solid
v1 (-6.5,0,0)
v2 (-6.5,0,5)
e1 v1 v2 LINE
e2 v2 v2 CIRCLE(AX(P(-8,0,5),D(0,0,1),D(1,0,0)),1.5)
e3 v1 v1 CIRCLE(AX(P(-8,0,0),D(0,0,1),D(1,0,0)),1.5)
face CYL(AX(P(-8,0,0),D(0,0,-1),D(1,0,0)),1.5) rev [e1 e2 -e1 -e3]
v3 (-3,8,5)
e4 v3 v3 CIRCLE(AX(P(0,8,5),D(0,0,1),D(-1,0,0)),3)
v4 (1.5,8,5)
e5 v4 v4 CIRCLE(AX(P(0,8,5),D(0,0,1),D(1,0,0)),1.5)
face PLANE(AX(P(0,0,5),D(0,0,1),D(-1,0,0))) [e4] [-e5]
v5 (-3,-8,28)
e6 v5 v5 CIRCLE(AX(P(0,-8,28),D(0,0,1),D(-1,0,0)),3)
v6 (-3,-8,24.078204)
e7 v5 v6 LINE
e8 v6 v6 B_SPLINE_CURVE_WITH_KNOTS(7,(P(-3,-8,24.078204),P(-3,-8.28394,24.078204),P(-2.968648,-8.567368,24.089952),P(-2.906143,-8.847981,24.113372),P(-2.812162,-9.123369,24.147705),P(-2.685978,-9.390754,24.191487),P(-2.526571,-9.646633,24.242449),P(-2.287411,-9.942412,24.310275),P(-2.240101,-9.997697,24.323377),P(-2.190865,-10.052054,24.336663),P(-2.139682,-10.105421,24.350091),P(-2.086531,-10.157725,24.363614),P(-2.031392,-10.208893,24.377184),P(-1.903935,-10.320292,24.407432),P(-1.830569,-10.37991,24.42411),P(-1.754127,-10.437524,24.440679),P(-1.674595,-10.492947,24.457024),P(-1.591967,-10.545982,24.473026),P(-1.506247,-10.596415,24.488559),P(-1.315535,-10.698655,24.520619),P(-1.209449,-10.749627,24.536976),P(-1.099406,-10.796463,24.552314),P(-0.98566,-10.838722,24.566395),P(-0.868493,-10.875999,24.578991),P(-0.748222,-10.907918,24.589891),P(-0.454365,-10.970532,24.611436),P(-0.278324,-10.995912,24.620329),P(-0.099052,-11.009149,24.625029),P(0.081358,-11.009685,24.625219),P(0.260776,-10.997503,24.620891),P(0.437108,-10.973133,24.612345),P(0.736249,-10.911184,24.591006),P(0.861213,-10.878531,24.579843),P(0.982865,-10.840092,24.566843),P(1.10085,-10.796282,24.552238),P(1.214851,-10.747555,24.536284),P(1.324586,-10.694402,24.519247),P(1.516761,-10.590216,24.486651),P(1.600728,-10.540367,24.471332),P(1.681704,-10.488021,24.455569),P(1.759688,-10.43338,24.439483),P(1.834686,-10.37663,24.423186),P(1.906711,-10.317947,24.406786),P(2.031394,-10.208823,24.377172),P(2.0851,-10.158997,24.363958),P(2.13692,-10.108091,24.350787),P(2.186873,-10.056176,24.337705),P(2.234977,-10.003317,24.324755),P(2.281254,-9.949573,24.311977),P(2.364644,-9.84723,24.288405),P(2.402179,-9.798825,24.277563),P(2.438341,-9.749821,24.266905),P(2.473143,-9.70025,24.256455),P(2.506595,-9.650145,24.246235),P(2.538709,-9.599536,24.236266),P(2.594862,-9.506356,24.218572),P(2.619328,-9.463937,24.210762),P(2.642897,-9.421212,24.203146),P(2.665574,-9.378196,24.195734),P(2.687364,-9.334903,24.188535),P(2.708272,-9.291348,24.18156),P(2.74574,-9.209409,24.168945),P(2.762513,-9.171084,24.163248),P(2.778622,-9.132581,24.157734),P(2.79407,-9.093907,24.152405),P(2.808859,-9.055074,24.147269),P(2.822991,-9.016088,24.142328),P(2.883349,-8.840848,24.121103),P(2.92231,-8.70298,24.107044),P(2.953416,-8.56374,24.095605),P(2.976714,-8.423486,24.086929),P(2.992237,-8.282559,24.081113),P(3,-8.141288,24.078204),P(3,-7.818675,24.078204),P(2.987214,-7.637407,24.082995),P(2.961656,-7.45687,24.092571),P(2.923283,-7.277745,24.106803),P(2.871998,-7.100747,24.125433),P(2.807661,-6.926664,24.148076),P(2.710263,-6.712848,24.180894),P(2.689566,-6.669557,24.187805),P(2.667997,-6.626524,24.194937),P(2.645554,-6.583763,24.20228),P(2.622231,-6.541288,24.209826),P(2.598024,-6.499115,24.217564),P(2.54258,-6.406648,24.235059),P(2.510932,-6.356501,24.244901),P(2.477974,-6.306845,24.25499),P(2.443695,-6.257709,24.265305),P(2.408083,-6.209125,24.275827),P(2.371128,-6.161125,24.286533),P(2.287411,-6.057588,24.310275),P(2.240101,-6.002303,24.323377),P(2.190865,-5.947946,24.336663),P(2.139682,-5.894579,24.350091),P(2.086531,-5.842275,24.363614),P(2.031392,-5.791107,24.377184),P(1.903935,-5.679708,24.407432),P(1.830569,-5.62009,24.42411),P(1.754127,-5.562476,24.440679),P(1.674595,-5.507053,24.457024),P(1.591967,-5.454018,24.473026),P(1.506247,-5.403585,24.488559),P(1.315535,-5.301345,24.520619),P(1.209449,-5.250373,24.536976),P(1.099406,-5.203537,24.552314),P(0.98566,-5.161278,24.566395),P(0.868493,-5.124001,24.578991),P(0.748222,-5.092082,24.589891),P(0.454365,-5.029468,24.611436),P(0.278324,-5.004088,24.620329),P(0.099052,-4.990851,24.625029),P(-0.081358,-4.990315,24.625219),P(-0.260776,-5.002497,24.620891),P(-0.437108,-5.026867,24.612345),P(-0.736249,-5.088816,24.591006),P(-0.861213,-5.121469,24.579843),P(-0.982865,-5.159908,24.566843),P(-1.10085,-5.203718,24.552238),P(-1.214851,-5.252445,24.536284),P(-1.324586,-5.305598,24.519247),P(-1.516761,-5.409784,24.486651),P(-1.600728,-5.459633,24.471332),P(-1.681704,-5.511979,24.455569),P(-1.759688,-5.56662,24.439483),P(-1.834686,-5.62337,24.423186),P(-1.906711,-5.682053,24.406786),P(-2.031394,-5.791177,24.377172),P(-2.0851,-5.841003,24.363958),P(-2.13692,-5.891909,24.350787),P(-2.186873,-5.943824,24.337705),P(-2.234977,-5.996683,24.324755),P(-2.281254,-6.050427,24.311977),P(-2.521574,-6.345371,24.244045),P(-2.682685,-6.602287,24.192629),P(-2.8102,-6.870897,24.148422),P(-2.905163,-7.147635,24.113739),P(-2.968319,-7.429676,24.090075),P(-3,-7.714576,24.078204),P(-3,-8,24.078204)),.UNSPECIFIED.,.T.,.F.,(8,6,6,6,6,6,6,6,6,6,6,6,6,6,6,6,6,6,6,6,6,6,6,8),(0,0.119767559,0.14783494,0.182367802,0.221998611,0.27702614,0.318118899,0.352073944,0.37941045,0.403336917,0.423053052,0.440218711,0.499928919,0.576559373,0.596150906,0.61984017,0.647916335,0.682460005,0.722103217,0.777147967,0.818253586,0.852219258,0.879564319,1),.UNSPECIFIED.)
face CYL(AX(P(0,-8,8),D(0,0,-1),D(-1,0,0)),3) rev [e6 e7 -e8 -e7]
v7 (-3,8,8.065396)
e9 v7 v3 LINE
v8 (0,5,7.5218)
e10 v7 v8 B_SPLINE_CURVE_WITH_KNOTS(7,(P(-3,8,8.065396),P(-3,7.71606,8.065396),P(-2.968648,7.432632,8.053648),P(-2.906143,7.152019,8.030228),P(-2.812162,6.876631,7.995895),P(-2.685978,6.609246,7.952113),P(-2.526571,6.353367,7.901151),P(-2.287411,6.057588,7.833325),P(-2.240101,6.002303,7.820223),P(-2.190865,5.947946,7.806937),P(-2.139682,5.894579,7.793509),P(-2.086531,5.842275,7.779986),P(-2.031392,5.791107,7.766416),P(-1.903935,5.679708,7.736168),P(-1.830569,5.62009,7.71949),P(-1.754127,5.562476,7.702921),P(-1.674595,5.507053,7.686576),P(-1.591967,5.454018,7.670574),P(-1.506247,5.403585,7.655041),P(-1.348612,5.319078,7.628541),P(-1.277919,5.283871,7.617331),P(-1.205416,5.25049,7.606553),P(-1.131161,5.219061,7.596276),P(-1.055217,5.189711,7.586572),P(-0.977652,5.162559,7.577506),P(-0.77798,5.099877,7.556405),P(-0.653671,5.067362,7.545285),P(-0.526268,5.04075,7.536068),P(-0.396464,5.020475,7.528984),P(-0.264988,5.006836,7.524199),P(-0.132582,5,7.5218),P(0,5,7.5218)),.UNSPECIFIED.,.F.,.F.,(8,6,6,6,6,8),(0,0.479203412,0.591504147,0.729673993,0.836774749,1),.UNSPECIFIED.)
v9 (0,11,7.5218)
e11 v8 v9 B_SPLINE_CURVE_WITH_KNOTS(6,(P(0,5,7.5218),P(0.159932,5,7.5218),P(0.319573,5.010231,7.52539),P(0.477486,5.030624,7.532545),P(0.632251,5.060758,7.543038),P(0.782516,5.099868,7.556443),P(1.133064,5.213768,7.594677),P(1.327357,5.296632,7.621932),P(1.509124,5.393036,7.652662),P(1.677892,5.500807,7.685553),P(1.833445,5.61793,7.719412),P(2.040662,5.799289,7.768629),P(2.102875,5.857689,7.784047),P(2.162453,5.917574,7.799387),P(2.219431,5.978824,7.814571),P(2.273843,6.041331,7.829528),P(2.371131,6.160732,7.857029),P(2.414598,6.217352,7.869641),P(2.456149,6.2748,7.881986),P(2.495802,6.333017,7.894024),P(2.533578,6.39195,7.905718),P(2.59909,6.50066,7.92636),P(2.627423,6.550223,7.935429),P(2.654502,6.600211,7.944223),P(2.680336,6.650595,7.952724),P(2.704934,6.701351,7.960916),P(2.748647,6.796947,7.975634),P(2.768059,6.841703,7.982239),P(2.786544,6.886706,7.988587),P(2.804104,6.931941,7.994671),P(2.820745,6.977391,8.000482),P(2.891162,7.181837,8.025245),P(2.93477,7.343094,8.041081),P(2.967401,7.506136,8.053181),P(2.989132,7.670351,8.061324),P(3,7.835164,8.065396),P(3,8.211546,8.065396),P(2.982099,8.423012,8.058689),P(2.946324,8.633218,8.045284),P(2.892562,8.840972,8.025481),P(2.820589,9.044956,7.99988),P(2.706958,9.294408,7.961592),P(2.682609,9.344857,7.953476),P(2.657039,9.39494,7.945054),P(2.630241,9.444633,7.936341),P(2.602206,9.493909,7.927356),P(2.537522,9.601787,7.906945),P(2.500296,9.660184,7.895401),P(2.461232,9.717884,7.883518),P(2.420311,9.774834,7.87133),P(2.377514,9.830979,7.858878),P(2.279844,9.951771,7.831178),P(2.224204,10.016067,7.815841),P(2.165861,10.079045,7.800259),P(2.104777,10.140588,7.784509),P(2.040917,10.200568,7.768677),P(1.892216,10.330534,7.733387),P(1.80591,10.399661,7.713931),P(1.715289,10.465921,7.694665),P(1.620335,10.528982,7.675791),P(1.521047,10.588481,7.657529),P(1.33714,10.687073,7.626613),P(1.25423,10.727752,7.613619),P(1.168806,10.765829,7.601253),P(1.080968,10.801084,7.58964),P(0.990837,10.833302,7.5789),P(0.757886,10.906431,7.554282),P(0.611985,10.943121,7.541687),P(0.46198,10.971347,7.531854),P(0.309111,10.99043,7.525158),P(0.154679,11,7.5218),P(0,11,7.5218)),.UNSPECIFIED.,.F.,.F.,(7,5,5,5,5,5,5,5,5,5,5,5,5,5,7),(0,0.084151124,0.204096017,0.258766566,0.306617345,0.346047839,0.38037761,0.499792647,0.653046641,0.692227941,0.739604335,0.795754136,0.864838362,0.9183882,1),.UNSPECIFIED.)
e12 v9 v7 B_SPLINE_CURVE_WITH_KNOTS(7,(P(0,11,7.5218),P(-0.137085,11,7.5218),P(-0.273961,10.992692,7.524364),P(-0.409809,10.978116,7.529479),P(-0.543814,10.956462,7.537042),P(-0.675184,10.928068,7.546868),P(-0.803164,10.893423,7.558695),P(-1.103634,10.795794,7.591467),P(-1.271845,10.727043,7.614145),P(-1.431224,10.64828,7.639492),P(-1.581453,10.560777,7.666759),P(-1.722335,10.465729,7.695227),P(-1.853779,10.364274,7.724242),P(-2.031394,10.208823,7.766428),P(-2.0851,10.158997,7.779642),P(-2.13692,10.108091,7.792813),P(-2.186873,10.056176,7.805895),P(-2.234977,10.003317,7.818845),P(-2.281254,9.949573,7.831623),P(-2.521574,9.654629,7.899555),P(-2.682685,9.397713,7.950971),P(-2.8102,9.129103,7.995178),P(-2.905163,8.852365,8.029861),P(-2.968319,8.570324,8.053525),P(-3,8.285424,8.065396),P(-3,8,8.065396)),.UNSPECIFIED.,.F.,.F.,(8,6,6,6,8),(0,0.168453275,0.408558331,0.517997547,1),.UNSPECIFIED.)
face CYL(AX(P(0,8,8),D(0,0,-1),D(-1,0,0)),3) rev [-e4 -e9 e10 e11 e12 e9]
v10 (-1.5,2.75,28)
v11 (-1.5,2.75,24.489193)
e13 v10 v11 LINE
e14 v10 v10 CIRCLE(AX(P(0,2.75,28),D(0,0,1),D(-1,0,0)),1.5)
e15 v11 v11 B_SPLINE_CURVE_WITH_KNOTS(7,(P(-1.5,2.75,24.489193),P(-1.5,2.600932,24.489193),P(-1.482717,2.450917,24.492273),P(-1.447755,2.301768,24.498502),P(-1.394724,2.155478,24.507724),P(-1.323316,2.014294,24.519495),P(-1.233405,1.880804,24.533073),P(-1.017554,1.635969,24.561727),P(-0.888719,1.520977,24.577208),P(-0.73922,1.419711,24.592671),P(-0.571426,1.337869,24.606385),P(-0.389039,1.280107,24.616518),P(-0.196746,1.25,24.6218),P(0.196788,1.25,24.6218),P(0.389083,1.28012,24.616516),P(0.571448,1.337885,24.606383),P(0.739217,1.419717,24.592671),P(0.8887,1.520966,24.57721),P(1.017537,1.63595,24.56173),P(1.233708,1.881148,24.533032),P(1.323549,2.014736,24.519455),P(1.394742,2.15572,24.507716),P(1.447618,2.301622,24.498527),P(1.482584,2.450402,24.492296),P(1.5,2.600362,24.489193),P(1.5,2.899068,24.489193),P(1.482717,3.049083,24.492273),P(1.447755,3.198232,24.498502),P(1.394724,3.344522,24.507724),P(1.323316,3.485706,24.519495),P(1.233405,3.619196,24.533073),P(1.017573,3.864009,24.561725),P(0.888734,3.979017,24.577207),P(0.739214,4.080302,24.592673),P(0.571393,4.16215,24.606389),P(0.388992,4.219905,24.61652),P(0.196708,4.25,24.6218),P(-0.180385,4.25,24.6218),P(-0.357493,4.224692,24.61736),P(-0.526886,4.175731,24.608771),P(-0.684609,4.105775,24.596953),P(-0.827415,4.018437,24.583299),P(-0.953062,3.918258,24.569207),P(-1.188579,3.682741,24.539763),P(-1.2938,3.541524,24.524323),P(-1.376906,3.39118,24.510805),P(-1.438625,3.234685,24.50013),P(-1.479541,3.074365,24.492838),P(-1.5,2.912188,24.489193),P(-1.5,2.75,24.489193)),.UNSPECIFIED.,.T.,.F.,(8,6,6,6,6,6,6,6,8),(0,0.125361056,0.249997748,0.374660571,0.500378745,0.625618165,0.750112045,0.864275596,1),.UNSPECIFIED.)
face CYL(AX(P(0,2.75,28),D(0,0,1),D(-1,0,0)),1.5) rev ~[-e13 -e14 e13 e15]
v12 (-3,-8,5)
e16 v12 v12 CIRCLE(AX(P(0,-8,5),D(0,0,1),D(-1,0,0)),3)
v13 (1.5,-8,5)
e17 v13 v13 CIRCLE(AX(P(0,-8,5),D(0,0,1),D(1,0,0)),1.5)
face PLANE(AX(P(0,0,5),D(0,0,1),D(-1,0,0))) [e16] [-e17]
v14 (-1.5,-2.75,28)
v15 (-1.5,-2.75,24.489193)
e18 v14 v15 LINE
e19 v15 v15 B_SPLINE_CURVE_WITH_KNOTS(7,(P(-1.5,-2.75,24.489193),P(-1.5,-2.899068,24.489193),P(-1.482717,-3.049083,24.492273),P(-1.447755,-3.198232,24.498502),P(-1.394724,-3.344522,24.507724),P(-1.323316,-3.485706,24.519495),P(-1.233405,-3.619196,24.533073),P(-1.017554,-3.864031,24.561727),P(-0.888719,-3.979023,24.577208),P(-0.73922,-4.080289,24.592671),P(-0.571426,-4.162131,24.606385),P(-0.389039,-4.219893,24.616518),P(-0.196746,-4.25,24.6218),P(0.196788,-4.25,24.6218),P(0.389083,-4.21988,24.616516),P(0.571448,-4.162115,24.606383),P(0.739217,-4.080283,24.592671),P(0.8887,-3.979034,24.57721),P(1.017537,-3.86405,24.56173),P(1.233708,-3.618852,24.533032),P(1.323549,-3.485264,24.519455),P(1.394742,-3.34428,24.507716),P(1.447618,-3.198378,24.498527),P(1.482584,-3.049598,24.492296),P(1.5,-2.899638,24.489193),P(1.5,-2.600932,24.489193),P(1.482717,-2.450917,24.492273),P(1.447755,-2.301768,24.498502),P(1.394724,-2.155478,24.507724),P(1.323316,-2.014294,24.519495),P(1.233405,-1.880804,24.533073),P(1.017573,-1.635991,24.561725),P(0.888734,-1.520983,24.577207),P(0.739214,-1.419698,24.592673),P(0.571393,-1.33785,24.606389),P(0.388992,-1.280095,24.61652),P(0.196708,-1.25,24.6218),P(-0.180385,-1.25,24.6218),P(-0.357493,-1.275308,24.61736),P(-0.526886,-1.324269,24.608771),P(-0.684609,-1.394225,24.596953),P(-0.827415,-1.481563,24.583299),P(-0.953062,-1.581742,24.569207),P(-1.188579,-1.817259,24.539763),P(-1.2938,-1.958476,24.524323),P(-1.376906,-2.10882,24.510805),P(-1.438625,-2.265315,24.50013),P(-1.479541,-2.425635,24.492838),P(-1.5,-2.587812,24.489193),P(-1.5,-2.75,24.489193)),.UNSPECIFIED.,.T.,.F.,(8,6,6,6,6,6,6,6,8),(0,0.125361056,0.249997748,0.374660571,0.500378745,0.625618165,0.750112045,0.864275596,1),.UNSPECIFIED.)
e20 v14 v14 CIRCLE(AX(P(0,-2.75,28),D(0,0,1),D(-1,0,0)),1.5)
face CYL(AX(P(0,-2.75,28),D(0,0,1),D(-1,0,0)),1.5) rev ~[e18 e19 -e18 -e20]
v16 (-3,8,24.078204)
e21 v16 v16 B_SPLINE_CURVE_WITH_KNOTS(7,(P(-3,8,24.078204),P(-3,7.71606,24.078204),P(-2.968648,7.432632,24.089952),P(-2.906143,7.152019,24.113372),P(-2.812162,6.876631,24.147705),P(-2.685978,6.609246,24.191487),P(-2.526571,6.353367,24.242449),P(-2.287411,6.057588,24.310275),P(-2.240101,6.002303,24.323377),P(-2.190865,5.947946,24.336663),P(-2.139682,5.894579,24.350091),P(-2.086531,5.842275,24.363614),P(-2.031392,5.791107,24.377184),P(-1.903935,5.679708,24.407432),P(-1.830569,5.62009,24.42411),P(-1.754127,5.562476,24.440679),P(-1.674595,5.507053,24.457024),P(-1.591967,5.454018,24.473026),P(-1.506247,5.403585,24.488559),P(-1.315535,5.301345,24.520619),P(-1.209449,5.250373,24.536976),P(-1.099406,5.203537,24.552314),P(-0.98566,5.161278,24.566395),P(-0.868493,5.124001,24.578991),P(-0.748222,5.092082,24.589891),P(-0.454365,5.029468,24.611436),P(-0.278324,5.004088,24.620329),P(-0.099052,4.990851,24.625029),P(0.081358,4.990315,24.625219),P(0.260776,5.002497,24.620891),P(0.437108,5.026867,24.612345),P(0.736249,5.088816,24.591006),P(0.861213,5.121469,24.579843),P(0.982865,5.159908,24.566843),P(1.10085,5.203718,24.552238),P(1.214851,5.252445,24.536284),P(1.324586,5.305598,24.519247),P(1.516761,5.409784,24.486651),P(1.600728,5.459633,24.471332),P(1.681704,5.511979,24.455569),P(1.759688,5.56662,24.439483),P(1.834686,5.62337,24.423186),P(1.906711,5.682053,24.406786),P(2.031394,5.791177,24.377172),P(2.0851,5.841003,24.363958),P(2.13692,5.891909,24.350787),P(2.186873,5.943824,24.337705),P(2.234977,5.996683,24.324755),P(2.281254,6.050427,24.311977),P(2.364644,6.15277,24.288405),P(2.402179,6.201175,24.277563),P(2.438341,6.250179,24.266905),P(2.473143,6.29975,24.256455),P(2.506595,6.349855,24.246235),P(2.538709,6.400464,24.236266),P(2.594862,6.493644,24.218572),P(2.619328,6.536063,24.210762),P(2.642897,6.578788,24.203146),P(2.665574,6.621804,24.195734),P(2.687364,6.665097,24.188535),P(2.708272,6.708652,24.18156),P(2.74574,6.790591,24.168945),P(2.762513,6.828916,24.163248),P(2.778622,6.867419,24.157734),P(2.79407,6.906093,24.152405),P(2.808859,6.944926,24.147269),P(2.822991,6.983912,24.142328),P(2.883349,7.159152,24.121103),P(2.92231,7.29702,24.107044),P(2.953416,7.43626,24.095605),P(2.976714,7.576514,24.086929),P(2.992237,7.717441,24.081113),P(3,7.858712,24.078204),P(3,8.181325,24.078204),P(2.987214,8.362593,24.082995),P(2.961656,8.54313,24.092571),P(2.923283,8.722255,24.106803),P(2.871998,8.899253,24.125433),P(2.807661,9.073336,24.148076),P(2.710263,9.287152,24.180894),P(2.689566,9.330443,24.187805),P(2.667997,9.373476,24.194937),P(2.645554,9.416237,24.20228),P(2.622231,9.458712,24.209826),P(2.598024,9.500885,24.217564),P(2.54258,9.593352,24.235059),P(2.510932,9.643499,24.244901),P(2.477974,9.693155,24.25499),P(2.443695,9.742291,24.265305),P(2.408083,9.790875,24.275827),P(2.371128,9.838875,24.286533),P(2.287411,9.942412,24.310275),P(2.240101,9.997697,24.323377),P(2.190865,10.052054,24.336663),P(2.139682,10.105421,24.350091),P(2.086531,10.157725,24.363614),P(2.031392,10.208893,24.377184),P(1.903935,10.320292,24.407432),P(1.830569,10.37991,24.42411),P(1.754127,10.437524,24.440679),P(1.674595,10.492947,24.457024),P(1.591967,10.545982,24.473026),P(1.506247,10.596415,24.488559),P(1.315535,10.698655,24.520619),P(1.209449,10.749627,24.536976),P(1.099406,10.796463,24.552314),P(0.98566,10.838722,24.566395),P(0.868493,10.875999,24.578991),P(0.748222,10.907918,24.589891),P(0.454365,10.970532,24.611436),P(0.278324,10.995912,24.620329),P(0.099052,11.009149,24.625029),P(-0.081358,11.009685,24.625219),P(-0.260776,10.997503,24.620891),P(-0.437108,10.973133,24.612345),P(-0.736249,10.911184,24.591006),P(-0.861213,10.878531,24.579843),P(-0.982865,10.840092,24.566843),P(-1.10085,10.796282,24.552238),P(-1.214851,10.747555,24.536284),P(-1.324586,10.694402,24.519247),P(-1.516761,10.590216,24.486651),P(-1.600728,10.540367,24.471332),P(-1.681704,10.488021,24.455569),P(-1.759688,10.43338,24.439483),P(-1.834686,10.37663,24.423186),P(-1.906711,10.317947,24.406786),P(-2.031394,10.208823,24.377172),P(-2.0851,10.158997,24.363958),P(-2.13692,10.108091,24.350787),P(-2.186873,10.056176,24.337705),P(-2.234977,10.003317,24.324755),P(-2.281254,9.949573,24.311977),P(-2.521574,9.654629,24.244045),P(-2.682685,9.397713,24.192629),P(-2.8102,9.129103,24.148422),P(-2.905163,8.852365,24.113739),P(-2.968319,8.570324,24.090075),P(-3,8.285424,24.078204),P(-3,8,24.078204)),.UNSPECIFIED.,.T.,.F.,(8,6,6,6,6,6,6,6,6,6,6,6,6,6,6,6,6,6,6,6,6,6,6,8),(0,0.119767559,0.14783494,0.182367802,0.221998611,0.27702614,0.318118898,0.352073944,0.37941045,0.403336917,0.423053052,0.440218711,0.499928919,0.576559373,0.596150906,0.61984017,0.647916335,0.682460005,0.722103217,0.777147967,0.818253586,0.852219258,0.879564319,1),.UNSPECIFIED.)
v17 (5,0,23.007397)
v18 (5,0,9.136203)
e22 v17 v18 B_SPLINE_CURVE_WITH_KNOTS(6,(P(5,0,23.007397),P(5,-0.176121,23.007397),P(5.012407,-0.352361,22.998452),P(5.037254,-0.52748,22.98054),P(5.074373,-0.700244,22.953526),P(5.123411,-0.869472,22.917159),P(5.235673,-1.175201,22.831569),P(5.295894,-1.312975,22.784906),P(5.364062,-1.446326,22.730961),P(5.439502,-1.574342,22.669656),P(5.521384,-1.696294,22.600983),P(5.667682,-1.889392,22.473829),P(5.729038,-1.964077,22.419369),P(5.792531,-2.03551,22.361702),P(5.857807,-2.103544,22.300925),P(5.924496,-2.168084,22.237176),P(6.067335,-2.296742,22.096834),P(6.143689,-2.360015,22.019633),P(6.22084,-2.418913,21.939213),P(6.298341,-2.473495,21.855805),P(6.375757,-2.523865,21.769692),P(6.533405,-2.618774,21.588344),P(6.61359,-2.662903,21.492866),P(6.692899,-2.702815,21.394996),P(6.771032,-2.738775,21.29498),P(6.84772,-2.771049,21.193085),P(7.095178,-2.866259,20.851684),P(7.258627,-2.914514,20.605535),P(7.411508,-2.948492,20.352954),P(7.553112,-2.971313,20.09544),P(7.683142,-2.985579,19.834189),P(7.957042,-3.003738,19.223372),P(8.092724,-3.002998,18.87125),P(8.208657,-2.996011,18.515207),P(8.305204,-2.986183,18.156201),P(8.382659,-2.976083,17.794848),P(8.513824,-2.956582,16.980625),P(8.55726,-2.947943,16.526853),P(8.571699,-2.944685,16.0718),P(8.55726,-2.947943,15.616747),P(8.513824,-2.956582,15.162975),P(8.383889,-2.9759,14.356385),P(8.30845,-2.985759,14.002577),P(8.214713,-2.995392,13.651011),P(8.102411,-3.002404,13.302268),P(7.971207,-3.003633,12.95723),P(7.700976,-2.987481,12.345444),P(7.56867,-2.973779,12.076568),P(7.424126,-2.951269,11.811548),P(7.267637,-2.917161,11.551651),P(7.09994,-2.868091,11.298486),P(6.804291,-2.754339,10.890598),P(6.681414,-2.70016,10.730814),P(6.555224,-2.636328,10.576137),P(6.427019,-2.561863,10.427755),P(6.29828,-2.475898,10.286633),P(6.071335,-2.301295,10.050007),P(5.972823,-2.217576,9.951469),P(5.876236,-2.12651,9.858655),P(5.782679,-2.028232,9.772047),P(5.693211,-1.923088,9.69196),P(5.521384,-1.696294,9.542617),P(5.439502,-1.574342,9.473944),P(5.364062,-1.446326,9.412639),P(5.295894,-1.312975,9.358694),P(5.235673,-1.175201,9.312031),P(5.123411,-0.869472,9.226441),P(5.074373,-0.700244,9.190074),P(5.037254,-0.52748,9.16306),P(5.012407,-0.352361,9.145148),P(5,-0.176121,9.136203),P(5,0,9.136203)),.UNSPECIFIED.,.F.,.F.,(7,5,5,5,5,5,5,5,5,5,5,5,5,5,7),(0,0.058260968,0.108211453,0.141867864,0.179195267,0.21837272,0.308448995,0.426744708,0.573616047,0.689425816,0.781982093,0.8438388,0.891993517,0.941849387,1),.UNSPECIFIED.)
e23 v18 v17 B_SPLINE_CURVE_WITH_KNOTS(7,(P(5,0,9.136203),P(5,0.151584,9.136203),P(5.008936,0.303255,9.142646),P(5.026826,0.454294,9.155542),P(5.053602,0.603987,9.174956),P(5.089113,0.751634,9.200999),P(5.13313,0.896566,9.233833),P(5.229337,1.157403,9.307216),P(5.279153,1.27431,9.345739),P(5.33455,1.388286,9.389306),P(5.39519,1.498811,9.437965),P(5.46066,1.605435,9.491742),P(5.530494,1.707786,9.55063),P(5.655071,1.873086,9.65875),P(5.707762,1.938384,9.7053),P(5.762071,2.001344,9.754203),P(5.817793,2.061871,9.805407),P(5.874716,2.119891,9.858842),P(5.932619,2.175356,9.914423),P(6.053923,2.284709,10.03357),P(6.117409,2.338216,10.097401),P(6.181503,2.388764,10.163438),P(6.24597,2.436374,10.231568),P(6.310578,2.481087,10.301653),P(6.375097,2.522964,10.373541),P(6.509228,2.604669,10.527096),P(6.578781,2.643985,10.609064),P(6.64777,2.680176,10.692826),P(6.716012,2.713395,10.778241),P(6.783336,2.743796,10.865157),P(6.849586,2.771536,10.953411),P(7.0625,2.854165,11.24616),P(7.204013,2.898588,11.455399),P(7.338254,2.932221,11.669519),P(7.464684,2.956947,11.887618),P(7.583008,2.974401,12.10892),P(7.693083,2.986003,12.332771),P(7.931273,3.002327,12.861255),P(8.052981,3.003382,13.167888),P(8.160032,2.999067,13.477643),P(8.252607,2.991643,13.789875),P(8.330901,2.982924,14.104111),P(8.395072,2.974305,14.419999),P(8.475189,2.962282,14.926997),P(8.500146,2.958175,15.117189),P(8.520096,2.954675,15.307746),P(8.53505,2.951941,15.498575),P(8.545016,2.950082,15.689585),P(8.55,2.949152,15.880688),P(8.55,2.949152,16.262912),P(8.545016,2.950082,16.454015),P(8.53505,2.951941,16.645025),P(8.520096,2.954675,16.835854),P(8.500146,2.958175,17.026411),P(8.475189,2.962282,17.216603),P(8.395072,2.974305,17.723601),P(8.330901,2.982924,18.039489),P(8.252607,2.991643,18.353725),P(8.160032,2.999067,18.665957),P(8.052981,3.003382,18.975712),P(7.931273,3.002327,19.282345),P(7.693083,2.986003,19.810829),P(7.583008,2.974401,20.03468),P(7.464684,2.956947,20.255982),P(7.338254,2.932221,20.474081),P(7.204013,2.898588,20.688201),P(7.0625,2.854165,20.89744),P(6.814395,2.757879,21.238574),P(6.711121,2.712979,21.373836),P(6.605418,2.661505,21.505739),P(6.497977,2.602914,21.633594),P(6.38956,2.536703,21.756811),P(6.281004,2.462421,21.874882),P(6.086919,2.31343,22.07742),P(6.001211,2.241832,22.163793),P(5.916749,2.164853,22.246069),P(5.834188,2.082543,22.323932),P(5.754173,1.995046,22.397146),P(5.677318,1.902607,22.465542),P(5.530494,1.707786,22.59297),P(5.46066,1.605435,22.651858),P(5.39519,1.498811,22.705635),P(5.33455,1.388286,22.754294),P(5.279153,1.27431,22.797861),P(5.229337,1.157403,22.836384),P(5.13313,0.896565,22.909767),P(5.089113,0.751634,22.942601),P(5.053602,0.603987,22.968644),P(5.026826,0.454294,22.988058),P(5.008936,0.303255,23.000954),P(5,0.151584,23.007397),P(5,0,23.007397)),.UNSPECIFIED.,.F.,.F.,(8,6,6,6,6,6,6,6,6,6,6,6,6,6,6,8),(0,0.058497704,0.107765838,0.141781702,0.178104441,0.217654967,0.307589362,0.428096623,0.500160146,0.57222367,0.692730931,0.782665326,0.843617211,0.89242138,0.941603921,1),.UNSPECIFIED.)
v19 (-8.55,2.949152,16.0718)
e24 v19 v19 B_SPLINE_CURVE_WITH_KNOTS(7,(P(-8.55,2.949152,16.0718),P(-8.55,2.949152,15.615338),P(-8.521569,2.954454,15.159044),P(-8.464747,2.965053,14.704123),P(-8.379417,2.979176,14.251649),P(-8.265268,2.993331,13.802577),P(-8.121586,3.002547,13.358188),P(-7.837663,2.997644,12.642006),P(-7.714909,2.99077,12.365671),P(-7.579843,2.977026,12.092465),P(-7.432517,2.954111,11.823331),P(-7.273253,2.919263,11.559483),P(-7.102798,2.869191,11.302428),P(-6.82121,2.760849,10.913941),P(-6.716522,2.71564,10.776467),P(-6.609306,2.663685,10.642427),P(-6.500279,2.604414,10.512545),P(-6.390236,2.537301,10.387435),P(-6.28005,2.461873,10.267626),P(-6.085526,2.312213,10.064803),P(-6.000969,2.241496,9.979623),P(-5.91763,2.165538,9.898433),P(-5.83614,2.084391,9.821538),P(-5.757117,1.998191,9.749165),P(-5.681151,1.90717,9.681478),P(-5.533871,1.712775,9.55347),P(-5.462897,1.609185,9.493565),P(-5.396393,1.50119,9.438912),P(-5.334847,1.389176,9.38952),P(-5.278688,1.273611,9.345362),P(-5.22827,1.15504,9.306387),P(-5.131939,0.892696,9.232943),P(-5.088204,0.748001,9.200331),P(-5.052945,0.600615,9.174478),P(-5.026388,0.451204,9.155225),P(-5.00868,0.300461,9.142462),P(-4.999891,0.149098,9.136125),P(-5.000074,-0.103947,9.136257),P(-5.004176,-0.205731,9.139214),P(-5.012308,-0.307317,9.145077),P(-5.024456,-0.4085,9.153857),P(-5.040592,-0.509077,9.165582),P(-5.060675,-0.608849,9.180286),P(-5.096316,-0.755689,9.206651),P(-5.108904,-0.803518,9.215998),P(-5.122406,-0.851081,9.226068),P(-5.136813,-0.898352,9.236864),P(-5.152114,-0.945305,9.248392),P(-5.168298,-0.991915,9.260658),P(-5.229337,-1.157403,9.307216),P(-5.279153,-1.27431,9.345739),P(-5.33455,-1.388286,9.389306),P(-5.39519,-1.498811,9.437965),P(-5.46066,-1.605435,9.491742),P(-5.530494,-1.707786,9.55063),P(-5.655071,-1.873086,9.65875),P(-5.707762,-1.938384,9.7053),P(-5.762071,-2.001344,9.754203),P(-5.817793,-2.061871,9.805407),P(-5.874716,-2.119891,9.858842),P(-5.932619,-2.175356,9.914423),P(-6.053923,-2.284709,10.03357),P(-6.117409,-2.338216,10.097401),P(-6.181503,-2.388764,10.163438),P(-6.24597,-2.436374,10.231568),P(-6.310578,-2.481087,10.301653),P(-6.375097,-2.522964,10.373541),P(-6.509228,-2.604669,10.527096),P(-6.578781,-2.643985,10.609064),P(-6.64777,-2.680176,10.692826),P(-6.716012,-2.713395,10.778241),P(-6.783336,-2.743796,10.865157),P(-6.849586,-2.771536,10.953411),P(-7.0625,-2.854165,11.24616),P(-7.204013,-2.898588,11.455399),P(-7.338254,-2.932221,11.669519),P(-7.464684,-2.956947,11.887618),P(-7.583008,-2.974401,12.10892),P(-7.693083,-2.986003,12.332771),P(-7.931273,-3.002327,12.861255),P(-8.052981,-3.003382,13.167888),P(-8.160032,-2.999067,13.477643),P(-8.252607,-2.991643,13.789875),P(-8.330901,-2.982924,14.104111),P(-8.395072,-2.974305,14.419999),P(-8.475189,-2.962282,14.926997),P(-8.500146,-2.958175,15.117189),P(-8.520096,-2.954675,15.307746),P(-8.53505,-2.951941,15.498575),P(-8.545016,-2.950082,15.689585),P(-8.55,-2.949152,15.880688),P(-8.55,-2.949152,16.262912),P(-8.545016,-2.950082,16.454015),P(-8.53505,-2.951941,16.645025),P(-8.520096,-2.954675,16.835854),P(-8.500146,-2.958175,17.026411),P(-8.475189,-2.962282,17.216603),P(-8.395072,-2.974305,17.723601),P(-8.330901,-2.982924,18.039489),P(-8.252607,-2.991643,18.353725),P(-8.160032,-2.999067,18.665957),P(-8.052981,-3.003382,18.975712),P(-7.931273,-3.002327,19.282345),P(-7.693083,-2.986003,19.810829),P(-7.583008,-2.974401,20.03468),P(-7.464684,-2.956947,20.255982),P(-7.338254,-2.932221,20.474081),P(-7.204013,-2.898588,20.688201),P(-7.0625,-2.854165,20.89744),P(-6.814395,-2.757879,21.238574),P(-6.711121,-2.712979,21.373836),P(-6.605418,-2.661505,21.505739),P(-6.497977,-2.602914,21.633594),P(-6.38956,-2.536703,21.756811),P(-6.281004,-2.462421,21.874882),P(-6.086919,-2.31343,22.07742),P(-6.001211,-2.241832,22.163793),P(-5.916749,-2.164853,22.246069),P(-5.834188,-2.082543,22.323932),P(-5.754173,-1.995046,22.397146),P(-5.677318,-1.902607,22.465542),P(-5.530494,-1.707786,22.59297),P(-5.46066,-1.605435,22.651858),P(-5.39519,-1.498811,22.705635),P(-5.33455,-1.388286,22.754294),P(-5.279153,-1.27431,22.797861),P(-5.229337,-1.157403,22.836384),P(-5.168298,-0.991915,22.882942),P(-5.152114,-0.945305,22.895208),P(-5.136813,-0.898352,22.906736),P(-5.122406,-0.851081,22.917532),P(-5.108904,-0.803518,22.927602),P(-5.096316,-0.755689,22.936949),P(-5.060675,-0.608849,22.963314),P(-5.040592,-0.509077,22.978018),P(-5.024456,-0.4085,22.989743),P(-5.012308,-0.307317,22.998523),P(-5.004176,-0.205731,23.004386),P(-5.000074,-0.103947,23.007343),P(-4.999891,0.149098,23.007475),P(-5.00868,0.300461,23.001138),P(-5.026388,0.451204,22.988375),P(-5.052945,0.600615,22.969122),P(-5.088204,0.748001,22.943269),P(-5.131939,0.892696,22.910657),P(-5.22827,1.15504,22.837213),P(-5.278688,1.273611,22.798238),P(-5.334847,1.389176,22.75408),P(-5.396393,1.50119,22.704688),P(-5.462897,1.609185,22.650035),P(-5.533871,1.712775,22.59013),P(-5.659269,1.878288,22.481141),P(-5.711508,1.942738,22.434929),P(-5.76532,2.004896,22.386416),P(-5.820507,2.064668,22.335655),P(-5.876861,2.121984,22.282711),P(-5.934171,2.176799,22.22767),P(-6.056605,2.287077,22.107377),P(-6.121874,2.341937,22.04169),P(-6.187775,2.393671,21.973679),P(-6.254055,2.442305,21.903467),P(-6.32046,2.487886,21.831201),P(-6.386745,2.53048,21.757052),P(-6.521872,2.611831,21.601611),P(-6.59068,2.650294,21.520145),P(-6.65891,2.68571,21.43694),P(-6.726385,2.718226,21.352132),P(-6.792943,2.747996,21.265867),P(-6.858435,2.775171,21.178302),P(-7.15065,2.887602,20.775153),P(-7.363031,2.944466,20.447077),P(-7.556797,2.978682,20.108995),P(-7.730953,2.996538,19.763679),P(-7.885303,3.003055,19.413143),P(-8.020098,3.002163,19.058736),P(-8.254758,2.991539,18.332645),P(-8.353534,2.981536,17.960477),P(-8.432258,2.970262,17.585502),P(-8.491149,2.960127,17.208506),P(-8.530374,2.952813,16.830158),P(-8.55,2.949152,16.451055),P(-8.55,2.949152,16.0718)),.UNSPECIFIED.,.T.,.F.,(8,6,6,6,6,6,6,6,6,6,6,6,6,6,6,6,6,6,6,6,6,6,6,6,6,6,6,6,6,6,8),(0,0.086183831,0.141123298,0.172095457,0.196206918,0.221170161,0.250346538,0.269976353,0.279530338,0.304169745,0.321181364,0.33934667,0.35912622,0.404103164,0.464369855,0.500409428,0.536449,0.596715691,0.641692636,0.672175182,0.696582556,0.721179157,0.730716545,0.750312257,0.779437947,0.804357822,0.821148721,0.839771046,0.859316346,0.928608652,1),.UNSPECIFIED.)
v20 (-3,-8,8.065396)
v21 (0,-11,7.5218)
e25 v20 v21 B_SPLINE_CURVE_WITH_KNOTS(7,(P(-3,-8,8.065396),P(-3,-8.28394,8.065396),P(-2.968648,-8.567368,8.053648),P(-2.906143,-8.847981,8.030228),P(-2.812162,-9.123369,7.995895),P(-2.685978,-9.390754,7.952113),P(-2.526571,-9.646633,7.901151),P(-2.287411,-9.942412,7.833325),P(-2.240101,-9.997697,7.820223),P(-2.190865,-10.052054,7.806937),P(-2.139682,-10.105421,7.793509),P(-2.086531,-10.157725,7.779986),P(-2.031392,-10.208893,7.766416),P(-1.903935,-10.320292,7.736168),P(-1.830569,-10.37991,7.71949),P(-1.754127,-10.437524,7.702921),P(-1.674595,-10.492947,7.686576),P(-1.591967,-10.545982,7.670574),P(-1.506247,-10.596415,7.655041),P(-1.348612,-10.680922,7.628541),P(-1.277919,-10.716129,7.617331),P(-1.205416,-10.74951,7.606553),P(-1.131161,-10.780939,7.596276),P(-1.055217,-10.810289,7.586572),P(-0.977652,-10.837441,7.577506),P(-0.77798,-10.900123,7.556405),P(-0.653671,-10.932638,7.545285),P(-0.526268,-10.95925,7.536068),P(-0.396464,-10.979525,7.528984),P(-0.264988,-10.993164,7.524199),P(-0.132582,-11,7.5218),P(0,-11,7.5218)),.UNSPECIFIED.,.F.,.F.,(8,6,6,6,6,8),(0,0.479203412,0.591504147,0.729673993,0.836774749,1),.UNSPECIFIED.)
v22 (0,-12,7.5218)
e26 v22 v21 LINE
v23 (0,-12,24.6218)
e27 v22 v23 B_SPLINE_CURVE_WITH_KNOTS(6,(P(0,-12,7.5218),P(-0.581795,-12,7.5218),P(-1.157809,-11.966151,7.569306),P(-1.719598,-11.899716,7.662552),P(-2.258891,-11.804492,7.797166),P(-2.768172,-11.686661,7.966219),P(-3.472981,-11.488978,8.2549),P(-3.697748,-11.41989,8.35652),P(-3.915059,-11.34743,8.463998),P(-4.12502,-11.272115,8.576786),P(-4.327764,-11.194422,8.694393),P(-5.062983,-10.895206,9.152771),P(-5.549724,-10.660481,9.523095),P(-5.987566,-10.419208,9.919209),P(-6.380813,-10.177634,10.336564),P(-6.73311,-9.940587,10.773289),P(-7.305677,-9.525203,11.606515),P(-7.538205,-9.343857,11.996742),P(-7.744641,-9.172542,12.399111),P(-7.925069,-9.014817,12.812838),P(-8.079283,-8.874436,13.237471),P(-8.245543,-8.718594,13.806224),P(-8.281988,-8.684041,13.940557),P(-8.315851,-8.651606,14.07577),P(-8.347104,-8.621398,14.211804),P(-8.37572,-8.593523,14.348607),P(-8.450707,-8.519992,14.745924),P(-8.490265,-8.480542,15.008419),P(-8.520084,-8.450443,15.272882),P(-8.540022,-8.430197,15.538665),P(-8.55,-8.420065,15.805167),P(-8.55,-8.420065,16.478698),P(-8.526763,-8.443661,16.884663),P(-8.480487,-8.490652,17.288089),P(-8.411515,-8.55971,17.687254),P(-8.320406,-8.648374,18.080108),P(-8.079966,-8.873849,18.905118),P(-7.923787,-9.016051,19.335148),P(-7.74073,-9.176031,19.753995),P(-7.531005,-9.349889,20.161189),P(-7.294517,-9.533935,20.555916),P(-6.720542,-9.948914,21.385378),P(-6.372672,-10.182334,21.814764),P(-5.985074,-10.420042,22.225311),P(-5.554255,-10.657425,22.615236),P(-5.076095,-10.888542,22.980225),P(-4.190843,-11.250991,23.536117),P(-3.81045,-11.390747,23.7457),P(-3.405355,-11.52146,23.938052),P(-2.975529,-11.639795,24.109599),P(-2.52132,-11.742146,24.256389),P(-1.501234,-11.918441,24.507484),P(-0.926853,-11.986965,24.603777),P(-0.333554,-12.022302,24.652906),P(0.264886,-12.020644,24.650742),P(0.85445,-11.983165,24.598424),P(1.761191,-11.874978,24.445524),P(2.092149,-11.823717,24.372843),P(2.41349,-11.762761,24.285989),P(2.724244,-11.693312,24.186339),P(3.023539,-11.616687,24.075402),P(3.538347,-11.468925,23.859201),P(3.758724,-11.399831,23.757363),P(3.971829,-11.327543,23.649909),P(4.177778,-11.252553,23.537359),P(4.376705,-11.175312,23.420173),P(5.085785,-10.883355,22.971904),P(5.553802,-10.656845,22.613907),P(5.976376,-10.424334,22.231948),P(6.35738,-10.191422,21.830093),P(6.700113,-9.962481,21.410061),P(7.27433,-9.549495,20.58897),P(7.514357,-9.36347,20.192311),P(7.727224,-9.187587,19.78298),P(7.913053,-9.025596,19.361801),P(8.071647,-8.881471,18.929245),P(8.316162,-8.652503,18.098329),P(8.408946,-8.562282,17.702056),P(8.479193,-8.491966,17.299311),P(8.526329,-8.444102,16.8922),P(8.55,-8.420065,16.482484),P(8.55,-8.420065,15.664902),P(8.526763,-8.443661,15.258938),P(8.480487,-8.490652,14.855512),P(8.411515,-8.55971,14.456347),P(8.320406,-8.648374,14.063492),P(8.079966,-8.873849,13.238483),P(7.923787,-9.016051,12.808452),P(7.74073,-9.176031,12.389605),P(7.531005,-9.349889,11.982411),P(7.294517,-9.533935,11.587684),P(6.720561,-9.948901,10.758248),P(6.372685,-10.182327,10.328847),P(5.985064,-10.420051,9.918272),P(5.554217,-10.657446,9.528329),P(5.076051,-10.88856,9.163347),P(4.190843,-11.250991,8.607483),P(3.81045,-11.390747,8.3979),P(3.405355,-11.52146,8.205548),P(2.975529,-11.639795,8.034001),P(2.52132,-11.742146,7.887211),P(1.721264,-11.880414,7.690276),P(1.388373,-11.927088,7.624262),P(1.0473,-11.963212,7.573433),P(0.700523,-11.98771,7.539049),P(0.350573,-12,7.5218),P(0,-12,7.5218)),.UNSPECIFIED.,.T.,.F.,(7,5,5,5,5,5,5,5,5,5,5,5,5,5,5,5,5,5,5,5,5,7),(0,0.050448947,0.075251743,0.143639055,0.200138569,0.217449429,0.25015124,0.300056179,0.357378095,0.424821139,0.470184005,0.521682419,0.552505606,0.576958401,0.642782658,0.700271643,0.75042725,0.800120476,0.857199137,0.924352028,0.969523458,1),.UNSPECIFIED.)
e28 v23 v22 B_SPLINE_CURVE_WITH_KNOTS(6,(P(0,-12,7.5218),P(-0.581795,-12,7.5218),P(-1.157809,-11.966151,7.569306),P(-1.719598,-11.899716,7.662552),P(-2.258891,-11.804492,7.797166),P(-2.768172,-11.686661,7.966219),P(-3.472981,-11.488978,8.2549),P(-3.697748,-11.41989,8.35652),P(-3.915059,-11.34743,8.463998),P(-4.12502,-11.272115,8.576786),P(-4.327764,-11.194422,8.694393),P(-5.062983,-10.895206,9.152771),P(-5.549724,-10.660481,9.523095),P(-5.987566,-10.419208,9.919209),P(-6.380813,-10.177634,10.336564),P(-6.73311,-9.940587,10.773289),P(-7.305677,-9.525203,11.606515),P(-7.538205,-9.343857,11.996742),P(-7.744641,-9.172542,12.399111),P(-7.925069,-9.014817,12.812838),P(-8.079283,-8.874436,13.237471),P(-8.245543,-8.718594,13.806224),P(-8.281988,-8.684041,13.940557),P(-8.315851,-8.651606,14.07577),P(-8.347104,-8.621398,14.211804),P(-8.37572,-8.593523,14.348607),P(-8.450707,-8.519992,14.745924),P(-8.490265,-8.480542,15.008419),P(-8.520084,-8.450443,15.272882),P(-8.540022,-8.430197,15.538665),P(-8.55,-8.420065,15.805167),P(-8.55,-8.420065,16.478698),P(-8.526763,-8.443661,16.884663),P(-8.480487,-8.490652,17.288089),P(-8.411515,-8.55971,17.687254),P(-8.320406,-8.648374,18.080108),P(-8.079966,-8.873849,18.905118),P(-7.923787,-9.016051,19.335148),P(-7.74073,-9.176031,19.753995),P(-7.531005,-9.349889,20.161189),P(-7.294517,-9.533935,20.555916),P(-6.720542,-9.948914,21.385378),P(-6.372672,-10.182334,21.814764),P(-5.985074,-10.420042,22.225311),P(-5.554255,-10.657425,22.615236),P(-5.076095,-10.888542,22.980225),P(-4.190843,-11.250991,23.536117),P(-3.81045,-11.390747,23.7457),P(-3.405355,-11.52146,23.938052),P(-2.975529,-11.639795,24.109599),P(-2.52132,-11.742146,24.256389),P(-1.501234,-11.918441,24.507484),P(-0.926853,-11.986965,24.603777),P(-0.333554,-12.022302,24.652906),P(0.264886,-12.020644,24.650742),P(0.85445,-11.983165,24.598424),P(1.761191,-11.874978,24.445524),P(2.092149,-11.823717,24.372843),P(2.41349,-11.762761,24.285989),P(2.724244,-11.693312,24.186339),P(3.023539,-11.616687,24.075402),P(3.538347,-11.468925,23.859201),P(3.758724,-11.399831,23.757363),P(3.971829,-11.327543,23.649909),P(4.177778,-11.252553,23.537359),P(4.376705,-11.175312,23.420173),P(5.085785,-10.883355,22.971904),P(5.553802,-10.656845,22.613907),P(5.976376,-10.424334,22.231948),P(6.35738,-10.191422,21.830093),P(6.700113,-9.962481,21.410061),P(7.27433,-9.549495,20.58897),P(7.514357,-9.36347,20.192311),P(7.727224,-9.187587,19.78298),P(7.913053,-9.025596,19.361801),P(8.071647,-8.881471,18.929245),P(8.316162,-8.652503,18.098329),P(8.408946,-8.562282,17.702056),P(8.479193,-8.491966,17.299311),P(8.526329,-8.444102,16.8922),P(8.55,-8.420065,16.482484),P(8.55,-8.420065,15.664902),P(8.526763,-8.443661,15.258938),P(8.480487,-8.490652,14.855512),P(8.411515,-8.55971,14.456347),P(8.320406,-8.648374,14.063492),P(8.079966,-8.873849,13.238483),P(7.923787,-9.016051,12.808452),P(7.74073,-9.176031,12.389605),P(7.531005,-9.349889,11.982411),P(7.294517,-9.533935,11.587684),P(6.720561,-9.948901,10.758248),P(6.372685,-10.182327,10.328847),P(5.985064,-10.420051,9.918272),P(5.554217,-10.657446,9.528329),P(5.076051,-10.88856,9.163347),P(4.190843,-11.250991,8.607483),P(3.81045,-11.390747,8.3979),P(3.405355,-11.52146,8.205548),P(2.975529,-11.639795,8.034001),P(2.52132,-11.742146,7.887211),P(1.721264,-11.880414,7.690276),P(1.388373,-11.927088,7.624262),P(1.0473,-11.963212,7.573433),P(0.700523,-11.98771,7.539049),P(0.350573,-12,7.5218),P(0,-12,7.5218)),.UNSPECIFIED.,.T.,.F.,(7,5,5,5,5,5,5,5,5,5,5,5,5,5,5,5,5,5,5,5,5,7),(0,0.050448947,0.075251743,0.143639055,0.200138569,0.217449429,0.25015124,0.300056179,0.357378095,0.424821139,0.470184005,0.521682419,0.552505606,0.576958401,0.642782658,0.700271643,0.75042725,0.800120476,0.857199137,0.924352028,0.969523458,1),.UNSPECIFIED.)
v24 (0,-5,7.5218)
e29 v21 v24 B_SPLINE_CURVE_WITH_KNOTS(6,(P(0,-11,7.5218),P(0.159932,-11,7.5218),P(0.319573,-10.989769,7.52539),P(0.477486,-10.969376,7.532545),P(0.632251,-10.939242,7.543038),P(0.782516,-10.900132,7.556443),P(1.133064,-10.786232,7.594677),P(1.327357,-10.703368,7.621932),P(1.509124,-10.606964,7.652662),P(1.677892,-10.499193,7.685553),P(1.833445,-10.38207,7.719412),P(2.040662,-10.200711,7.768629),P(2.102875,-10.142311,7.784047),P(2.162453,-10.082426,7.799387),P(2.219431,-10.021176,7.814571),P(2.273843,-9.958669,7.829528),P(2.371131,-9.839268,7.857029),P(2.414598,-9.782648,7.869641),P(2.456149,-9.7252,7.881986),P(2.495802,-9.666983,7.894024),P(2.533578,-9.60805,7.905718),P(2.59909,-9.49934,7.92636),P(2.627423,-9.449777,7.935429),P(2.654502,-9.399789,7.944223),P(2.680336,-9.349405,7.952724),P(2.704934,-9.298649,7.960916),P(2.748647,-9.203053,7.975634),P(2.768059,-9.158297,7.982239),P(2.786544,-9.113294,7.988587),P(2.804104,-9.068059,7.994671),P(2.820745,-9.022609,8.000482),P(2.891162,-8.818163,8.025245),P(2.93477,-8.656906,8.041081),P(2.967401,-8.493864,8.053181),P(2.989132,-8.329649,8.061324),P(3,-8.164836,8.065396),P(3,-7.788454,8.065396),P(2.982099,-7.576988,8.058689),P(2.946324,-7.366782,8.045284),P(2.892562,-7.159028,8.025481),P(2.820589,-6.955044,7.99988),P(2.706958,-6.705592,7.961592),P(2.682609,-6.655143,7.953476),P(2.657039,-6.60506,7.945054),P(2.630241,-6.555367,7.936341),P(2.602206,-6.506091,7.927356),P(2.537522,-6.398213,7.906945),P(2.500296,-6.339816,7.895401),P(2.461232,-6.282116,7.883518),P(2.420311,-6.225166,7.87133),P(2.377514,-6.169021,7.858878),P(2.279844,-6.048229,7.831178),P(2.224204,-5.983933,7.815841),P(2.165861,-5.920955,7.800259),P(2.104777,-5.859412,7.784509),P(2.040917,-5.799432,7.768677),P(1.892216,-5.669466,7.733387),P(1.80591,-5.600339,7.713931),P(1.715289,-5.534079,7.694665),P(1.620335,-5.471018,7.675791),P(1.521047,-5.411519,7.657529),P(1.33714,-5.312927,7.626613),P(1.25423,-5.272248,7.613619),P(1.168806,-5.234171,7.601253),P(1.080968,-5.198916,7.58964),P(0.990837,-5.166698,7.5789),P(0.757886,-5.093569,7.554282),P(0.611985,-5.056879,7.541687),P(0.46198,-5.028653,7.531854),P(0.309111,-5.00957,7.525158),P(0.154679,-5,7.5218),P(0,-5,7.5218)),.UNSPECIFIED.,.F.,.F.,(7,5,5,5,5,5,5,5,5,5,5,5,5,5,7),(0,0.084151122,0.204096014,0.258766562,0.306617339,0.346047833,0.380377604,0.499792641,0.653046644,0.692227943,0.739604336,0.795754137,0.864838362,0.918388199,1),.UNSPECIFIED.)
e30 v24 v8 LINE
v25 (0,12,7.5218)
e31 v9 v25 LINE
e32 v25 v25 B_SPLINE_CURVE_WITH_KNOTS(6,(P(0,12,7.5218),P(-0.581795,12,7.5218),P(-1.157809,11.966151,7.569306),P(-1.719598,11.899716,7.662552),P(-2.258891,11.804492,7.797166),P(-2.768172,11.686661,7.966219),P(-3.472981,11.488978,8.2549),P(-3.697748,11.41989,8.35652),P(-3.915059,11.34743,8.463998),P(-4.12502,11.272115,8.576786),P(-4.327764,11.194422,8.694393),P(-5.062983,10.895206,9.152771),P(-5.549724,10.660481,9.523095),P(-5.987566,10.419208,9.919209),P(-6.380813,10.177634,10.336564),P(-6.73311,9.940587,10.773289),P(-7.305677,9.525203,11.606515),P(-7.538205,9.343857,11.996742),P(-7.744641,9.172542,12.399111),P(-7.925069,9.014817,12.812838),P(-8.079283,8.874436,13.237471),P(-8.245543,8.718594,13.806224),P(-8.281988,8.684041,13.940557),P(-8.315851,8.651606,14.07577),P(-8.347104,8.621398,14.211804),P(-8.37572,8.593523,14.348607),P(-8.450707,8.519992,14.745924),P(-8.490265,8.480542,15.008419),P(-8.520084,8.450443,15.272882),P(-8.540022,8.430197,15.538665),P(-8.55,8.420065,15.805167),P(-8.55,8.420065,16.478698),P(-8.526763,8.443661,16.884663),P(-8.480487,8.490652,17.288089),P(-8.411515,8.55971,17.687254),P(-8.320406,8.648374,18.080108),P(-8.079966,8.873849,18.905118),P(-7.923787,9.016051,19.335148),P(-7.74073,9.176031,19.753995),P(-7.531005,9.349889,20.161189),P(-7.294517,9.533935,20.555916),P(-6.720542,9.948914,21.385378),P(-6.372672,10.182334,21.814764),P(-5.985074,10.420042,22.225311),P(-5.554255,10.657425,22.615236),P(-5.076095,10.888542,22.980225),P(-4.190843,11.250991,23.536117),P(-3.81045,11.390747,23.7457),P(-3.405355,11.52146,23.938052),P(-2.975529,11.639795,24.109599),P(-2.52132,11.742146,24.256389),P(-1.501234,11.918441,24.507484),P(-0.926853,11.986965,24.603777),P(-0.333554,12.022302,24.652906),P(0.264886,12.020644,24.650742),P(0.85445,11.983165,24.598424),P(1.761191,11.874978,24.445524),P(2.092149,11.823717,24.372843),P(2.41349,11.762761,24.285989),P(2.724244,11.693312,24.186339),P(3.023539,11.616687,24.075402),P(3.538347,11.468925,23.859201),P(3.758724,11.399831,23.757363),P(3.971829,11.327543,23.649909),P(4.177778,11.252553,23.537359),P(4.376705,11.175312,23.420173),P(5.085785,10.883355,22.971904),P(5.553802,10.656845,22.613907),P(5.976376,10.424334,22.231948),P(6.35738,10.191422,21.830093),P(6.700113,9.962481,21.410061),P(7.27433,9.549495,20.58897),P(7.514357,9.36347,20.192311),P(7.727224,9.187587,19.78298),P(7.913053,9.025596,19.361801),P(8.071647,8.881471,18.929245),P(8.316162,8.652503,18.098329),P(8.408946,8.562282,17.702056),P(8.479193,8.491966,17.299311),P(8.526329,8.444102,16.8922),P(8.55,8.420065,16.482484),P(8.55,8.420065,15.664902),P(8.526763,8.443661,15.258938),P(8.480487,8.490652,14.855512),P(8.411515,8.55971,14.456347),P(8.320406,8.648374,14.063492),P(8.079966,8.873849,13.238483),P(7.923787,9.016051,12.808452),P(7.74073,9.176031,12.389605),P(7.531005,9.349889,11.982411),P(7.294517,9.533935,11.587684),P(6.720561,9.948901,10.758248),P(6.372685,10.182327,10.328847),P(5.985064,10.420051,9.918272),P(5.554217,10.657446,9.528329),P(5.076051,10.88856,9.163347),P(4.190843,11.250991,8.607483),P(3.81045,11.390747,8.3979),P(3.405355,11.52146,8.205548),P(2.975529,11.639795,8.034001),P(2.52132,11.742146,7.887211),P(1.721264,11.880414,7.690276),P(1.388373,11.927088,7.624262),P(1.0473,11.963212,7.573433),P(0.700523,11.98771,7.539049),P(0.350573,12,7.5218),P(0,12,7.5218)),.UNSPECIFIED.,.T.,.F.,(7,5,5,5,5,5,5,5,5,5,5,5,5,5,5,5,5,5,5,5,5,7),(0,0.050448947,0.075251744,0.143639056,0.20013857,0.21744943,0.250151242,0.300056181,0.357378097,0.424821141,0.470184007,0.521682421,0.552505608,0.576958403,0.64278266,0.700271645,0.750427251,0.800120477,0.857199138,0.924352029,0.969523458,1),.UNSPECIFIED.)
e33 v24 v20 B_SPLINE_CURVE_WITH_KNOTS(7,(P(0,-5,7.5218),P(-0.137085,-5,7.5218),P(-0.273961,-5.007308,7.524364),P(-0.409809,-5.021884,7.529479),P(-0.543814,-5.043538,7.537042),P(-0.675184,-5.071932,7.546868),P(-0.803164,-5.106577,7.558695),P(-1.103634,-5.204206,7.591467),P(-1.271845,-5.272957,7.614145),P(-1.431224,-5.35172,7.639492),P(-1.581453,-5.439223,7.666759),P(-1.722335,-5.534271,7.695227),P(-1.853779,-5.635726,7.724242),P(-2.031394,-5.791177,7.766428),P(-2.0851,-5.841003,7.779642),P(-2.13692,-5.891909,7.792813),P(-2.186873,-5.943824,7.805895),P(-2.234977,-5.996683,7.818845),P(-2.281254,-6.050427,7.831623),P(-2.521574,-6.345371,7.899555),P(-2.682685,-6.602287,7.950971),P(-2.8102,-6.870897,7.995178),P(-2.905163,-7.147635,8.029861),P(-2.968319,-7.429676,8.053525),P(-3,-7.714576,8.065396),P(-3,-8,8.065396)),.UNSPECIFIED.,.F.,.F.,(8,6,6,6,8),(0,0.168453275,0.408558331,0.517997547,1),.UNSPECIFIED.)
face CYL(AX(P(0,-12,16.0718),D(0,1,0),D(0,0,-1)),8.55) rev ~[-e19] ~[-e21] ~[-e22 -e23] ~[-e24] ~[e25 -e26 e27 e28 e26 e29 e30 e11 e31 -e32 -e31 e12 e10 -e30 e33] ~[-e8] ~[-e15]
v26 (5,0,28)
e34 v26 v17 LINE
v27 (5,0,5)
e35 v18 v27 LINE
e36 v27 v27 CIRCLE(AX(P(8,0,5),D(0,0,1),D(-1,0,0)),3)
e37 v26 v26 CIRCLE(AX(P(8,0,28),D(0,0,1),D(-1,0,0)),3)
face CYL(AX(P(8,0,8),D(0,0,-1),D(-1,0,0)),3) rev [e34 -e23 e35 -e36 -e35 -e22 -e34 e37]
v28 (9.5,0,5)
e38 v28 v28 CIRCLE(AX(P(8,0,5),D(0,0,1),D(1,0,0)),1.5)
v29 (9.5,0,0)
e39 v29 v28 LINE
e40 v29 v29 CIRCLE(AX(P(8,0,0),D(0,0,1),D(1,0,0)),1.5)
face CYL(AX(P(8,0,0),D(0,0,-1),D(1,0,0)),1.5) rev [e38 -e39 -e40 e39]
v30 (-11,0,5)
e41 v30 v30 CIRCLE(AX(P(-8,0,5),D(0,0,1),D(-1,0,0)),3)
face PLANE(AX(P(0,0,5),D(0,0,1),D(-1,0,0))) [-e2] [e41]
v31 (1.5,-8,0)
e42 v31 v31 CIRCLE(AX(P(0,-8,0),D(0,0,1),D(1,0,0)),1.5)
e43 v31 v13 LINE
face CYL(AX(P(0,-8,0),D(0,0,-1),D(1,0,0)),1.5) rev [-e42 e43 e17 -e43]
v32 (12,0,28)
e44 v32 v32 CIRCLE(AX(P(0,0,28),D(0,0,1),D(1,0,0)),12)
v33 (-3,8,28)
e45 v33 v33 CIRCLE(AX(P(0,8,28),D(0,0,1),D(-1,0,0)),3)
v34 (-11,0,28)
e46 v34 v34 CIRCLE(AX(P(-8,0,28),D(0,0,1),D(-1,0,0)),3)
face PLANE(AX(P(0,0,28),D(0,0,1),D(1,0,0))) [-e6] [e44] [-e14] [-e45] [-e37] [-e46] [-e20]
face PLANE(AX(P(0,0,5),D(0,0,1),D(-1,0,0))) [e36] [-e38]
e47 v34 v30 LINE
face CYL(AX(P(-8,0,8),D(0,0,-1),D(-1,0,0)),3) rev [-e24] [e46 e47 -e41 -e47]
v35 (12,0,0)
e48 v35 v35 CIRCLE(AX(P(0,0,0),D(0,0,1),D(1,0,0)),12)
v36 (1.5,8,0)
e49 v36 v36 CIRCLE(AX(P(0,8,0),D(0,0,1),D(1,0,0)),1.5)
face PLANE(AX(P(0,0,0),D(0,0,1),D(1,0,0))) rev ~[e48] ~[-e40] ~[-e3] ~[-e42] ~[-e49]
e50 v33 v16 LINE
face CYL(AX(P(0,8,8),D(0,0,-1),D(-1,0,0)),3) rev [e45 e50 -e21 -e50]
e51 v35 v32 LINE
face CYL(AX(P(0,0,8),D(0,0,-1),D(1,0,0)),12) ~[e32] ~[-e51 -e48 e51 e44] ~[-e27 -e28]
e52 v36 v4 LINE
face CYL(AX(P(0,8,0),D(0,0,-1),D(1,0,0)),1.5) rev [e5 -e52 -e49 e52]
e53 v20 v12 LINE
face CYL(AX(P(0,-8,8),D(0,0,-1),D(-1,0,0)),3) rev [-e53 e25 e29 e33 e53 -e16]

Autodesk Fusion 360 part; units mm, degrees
sketch "Sketch1" plane through (0, 0, 0) normal (0, 0, 1) x (1, 0, 0)
  circle A0 centre (-8, 0) radius 1.5
  circle A1 centre (8, 0) radius 1.5
  circle A2 centre (0, -8) radius 1.5
  circle A3 centre (0, 8) radius 1.5
  circle A4 centre (0, 0) radius 12
  dimension "d3" = 3
  dimension "d4" = 8
  dimension "d5" = 3
  dimension "d6" = 3
  dimension "d7" = 3
  dimension "d8" = 8
  dimension "d9" = 8
  dimension "d10" = 8
  dimension "d19" = 24
extrude "Extrude1" add sketch "Sketch1" along normal blind 20
extrude "Extrude2" cut 1 faces at (0.0374, 2.1681, 20) along direction (0, 0, -1) blind 12
sketch "Sketch2" plane through (0, 0, 8) normal (0, 0, 1) x (-1, 0, 0)
  circle A0 centre (0, -8) radius 1.5
  circle A1 centre (-8, 0) radius 1.5
  circle A2 centre (0, 8) radius 1.5
  circle A3 centre (8, 0) radius 1.5
  circle A4 centre (0, -8) radius 3
  circle A5 centre (8, 0) radius 3
  circle A6 centre (-8, 0) radius 3
  circle A7 centre (0, 8) radius 3
  circle A8 centre (0, 0) radius 12
  dimension "d15" = 6
extrude "Extrude3" cut sketch "Sketch2" against normal blind 3 contours A4
extrude "Extrude4" cut sketch "Sketch2" against normal blind 3 contours A5
extrude "Extrude5" cut sketch "Sketch2" against normal blind 3 contours A7
extrude "Extrude6" cut sketch "Sketch2" against normal blind 3 contours A6
extrude "Extrude7" add 1 faces at (-0.0747, -1.6695, 8) along direction (0, 0, 1) blind 20
hole "Hole1" at (0, -12, 16.0718) direction (0, 1, 0) diameter 17.1 depth 25 tip angle 180
sketch "Sketch3" plane through (0, 0, 28) normal (0, 0, 1) x (-1, 0, 0)
  circle A0 centre (-8, 0) radius 3
  circle A1 centre (0, 8) radius 3
  circle A2 centre (8, 0) radius 3
  circle A3 centre (0, -8) radius 3
  circle A4 centre (0, 0) radius 12
  circle A5 centre (0, -2.75) radius 1.5
  circle A6 centre (0, 2.75) radius 1.5
  circle A7 centre (0, 2.75) radius 2.5
  circle A8 centre (0, -2.75) radius 2.5
  dimension "d31" = 3
  dimension "d32" = 3
  dimension "d33" = 2.75
  dimension "d34" = 2.75
  dimension "d39" = 5
  dimension "d40" = 5
extrude "Extrude8" cut sketch "Sketch3" against normal blind 5 contours A5
extrude "Extrude9" cut sketch "Sketch3" against normal blind 5 contours A6
